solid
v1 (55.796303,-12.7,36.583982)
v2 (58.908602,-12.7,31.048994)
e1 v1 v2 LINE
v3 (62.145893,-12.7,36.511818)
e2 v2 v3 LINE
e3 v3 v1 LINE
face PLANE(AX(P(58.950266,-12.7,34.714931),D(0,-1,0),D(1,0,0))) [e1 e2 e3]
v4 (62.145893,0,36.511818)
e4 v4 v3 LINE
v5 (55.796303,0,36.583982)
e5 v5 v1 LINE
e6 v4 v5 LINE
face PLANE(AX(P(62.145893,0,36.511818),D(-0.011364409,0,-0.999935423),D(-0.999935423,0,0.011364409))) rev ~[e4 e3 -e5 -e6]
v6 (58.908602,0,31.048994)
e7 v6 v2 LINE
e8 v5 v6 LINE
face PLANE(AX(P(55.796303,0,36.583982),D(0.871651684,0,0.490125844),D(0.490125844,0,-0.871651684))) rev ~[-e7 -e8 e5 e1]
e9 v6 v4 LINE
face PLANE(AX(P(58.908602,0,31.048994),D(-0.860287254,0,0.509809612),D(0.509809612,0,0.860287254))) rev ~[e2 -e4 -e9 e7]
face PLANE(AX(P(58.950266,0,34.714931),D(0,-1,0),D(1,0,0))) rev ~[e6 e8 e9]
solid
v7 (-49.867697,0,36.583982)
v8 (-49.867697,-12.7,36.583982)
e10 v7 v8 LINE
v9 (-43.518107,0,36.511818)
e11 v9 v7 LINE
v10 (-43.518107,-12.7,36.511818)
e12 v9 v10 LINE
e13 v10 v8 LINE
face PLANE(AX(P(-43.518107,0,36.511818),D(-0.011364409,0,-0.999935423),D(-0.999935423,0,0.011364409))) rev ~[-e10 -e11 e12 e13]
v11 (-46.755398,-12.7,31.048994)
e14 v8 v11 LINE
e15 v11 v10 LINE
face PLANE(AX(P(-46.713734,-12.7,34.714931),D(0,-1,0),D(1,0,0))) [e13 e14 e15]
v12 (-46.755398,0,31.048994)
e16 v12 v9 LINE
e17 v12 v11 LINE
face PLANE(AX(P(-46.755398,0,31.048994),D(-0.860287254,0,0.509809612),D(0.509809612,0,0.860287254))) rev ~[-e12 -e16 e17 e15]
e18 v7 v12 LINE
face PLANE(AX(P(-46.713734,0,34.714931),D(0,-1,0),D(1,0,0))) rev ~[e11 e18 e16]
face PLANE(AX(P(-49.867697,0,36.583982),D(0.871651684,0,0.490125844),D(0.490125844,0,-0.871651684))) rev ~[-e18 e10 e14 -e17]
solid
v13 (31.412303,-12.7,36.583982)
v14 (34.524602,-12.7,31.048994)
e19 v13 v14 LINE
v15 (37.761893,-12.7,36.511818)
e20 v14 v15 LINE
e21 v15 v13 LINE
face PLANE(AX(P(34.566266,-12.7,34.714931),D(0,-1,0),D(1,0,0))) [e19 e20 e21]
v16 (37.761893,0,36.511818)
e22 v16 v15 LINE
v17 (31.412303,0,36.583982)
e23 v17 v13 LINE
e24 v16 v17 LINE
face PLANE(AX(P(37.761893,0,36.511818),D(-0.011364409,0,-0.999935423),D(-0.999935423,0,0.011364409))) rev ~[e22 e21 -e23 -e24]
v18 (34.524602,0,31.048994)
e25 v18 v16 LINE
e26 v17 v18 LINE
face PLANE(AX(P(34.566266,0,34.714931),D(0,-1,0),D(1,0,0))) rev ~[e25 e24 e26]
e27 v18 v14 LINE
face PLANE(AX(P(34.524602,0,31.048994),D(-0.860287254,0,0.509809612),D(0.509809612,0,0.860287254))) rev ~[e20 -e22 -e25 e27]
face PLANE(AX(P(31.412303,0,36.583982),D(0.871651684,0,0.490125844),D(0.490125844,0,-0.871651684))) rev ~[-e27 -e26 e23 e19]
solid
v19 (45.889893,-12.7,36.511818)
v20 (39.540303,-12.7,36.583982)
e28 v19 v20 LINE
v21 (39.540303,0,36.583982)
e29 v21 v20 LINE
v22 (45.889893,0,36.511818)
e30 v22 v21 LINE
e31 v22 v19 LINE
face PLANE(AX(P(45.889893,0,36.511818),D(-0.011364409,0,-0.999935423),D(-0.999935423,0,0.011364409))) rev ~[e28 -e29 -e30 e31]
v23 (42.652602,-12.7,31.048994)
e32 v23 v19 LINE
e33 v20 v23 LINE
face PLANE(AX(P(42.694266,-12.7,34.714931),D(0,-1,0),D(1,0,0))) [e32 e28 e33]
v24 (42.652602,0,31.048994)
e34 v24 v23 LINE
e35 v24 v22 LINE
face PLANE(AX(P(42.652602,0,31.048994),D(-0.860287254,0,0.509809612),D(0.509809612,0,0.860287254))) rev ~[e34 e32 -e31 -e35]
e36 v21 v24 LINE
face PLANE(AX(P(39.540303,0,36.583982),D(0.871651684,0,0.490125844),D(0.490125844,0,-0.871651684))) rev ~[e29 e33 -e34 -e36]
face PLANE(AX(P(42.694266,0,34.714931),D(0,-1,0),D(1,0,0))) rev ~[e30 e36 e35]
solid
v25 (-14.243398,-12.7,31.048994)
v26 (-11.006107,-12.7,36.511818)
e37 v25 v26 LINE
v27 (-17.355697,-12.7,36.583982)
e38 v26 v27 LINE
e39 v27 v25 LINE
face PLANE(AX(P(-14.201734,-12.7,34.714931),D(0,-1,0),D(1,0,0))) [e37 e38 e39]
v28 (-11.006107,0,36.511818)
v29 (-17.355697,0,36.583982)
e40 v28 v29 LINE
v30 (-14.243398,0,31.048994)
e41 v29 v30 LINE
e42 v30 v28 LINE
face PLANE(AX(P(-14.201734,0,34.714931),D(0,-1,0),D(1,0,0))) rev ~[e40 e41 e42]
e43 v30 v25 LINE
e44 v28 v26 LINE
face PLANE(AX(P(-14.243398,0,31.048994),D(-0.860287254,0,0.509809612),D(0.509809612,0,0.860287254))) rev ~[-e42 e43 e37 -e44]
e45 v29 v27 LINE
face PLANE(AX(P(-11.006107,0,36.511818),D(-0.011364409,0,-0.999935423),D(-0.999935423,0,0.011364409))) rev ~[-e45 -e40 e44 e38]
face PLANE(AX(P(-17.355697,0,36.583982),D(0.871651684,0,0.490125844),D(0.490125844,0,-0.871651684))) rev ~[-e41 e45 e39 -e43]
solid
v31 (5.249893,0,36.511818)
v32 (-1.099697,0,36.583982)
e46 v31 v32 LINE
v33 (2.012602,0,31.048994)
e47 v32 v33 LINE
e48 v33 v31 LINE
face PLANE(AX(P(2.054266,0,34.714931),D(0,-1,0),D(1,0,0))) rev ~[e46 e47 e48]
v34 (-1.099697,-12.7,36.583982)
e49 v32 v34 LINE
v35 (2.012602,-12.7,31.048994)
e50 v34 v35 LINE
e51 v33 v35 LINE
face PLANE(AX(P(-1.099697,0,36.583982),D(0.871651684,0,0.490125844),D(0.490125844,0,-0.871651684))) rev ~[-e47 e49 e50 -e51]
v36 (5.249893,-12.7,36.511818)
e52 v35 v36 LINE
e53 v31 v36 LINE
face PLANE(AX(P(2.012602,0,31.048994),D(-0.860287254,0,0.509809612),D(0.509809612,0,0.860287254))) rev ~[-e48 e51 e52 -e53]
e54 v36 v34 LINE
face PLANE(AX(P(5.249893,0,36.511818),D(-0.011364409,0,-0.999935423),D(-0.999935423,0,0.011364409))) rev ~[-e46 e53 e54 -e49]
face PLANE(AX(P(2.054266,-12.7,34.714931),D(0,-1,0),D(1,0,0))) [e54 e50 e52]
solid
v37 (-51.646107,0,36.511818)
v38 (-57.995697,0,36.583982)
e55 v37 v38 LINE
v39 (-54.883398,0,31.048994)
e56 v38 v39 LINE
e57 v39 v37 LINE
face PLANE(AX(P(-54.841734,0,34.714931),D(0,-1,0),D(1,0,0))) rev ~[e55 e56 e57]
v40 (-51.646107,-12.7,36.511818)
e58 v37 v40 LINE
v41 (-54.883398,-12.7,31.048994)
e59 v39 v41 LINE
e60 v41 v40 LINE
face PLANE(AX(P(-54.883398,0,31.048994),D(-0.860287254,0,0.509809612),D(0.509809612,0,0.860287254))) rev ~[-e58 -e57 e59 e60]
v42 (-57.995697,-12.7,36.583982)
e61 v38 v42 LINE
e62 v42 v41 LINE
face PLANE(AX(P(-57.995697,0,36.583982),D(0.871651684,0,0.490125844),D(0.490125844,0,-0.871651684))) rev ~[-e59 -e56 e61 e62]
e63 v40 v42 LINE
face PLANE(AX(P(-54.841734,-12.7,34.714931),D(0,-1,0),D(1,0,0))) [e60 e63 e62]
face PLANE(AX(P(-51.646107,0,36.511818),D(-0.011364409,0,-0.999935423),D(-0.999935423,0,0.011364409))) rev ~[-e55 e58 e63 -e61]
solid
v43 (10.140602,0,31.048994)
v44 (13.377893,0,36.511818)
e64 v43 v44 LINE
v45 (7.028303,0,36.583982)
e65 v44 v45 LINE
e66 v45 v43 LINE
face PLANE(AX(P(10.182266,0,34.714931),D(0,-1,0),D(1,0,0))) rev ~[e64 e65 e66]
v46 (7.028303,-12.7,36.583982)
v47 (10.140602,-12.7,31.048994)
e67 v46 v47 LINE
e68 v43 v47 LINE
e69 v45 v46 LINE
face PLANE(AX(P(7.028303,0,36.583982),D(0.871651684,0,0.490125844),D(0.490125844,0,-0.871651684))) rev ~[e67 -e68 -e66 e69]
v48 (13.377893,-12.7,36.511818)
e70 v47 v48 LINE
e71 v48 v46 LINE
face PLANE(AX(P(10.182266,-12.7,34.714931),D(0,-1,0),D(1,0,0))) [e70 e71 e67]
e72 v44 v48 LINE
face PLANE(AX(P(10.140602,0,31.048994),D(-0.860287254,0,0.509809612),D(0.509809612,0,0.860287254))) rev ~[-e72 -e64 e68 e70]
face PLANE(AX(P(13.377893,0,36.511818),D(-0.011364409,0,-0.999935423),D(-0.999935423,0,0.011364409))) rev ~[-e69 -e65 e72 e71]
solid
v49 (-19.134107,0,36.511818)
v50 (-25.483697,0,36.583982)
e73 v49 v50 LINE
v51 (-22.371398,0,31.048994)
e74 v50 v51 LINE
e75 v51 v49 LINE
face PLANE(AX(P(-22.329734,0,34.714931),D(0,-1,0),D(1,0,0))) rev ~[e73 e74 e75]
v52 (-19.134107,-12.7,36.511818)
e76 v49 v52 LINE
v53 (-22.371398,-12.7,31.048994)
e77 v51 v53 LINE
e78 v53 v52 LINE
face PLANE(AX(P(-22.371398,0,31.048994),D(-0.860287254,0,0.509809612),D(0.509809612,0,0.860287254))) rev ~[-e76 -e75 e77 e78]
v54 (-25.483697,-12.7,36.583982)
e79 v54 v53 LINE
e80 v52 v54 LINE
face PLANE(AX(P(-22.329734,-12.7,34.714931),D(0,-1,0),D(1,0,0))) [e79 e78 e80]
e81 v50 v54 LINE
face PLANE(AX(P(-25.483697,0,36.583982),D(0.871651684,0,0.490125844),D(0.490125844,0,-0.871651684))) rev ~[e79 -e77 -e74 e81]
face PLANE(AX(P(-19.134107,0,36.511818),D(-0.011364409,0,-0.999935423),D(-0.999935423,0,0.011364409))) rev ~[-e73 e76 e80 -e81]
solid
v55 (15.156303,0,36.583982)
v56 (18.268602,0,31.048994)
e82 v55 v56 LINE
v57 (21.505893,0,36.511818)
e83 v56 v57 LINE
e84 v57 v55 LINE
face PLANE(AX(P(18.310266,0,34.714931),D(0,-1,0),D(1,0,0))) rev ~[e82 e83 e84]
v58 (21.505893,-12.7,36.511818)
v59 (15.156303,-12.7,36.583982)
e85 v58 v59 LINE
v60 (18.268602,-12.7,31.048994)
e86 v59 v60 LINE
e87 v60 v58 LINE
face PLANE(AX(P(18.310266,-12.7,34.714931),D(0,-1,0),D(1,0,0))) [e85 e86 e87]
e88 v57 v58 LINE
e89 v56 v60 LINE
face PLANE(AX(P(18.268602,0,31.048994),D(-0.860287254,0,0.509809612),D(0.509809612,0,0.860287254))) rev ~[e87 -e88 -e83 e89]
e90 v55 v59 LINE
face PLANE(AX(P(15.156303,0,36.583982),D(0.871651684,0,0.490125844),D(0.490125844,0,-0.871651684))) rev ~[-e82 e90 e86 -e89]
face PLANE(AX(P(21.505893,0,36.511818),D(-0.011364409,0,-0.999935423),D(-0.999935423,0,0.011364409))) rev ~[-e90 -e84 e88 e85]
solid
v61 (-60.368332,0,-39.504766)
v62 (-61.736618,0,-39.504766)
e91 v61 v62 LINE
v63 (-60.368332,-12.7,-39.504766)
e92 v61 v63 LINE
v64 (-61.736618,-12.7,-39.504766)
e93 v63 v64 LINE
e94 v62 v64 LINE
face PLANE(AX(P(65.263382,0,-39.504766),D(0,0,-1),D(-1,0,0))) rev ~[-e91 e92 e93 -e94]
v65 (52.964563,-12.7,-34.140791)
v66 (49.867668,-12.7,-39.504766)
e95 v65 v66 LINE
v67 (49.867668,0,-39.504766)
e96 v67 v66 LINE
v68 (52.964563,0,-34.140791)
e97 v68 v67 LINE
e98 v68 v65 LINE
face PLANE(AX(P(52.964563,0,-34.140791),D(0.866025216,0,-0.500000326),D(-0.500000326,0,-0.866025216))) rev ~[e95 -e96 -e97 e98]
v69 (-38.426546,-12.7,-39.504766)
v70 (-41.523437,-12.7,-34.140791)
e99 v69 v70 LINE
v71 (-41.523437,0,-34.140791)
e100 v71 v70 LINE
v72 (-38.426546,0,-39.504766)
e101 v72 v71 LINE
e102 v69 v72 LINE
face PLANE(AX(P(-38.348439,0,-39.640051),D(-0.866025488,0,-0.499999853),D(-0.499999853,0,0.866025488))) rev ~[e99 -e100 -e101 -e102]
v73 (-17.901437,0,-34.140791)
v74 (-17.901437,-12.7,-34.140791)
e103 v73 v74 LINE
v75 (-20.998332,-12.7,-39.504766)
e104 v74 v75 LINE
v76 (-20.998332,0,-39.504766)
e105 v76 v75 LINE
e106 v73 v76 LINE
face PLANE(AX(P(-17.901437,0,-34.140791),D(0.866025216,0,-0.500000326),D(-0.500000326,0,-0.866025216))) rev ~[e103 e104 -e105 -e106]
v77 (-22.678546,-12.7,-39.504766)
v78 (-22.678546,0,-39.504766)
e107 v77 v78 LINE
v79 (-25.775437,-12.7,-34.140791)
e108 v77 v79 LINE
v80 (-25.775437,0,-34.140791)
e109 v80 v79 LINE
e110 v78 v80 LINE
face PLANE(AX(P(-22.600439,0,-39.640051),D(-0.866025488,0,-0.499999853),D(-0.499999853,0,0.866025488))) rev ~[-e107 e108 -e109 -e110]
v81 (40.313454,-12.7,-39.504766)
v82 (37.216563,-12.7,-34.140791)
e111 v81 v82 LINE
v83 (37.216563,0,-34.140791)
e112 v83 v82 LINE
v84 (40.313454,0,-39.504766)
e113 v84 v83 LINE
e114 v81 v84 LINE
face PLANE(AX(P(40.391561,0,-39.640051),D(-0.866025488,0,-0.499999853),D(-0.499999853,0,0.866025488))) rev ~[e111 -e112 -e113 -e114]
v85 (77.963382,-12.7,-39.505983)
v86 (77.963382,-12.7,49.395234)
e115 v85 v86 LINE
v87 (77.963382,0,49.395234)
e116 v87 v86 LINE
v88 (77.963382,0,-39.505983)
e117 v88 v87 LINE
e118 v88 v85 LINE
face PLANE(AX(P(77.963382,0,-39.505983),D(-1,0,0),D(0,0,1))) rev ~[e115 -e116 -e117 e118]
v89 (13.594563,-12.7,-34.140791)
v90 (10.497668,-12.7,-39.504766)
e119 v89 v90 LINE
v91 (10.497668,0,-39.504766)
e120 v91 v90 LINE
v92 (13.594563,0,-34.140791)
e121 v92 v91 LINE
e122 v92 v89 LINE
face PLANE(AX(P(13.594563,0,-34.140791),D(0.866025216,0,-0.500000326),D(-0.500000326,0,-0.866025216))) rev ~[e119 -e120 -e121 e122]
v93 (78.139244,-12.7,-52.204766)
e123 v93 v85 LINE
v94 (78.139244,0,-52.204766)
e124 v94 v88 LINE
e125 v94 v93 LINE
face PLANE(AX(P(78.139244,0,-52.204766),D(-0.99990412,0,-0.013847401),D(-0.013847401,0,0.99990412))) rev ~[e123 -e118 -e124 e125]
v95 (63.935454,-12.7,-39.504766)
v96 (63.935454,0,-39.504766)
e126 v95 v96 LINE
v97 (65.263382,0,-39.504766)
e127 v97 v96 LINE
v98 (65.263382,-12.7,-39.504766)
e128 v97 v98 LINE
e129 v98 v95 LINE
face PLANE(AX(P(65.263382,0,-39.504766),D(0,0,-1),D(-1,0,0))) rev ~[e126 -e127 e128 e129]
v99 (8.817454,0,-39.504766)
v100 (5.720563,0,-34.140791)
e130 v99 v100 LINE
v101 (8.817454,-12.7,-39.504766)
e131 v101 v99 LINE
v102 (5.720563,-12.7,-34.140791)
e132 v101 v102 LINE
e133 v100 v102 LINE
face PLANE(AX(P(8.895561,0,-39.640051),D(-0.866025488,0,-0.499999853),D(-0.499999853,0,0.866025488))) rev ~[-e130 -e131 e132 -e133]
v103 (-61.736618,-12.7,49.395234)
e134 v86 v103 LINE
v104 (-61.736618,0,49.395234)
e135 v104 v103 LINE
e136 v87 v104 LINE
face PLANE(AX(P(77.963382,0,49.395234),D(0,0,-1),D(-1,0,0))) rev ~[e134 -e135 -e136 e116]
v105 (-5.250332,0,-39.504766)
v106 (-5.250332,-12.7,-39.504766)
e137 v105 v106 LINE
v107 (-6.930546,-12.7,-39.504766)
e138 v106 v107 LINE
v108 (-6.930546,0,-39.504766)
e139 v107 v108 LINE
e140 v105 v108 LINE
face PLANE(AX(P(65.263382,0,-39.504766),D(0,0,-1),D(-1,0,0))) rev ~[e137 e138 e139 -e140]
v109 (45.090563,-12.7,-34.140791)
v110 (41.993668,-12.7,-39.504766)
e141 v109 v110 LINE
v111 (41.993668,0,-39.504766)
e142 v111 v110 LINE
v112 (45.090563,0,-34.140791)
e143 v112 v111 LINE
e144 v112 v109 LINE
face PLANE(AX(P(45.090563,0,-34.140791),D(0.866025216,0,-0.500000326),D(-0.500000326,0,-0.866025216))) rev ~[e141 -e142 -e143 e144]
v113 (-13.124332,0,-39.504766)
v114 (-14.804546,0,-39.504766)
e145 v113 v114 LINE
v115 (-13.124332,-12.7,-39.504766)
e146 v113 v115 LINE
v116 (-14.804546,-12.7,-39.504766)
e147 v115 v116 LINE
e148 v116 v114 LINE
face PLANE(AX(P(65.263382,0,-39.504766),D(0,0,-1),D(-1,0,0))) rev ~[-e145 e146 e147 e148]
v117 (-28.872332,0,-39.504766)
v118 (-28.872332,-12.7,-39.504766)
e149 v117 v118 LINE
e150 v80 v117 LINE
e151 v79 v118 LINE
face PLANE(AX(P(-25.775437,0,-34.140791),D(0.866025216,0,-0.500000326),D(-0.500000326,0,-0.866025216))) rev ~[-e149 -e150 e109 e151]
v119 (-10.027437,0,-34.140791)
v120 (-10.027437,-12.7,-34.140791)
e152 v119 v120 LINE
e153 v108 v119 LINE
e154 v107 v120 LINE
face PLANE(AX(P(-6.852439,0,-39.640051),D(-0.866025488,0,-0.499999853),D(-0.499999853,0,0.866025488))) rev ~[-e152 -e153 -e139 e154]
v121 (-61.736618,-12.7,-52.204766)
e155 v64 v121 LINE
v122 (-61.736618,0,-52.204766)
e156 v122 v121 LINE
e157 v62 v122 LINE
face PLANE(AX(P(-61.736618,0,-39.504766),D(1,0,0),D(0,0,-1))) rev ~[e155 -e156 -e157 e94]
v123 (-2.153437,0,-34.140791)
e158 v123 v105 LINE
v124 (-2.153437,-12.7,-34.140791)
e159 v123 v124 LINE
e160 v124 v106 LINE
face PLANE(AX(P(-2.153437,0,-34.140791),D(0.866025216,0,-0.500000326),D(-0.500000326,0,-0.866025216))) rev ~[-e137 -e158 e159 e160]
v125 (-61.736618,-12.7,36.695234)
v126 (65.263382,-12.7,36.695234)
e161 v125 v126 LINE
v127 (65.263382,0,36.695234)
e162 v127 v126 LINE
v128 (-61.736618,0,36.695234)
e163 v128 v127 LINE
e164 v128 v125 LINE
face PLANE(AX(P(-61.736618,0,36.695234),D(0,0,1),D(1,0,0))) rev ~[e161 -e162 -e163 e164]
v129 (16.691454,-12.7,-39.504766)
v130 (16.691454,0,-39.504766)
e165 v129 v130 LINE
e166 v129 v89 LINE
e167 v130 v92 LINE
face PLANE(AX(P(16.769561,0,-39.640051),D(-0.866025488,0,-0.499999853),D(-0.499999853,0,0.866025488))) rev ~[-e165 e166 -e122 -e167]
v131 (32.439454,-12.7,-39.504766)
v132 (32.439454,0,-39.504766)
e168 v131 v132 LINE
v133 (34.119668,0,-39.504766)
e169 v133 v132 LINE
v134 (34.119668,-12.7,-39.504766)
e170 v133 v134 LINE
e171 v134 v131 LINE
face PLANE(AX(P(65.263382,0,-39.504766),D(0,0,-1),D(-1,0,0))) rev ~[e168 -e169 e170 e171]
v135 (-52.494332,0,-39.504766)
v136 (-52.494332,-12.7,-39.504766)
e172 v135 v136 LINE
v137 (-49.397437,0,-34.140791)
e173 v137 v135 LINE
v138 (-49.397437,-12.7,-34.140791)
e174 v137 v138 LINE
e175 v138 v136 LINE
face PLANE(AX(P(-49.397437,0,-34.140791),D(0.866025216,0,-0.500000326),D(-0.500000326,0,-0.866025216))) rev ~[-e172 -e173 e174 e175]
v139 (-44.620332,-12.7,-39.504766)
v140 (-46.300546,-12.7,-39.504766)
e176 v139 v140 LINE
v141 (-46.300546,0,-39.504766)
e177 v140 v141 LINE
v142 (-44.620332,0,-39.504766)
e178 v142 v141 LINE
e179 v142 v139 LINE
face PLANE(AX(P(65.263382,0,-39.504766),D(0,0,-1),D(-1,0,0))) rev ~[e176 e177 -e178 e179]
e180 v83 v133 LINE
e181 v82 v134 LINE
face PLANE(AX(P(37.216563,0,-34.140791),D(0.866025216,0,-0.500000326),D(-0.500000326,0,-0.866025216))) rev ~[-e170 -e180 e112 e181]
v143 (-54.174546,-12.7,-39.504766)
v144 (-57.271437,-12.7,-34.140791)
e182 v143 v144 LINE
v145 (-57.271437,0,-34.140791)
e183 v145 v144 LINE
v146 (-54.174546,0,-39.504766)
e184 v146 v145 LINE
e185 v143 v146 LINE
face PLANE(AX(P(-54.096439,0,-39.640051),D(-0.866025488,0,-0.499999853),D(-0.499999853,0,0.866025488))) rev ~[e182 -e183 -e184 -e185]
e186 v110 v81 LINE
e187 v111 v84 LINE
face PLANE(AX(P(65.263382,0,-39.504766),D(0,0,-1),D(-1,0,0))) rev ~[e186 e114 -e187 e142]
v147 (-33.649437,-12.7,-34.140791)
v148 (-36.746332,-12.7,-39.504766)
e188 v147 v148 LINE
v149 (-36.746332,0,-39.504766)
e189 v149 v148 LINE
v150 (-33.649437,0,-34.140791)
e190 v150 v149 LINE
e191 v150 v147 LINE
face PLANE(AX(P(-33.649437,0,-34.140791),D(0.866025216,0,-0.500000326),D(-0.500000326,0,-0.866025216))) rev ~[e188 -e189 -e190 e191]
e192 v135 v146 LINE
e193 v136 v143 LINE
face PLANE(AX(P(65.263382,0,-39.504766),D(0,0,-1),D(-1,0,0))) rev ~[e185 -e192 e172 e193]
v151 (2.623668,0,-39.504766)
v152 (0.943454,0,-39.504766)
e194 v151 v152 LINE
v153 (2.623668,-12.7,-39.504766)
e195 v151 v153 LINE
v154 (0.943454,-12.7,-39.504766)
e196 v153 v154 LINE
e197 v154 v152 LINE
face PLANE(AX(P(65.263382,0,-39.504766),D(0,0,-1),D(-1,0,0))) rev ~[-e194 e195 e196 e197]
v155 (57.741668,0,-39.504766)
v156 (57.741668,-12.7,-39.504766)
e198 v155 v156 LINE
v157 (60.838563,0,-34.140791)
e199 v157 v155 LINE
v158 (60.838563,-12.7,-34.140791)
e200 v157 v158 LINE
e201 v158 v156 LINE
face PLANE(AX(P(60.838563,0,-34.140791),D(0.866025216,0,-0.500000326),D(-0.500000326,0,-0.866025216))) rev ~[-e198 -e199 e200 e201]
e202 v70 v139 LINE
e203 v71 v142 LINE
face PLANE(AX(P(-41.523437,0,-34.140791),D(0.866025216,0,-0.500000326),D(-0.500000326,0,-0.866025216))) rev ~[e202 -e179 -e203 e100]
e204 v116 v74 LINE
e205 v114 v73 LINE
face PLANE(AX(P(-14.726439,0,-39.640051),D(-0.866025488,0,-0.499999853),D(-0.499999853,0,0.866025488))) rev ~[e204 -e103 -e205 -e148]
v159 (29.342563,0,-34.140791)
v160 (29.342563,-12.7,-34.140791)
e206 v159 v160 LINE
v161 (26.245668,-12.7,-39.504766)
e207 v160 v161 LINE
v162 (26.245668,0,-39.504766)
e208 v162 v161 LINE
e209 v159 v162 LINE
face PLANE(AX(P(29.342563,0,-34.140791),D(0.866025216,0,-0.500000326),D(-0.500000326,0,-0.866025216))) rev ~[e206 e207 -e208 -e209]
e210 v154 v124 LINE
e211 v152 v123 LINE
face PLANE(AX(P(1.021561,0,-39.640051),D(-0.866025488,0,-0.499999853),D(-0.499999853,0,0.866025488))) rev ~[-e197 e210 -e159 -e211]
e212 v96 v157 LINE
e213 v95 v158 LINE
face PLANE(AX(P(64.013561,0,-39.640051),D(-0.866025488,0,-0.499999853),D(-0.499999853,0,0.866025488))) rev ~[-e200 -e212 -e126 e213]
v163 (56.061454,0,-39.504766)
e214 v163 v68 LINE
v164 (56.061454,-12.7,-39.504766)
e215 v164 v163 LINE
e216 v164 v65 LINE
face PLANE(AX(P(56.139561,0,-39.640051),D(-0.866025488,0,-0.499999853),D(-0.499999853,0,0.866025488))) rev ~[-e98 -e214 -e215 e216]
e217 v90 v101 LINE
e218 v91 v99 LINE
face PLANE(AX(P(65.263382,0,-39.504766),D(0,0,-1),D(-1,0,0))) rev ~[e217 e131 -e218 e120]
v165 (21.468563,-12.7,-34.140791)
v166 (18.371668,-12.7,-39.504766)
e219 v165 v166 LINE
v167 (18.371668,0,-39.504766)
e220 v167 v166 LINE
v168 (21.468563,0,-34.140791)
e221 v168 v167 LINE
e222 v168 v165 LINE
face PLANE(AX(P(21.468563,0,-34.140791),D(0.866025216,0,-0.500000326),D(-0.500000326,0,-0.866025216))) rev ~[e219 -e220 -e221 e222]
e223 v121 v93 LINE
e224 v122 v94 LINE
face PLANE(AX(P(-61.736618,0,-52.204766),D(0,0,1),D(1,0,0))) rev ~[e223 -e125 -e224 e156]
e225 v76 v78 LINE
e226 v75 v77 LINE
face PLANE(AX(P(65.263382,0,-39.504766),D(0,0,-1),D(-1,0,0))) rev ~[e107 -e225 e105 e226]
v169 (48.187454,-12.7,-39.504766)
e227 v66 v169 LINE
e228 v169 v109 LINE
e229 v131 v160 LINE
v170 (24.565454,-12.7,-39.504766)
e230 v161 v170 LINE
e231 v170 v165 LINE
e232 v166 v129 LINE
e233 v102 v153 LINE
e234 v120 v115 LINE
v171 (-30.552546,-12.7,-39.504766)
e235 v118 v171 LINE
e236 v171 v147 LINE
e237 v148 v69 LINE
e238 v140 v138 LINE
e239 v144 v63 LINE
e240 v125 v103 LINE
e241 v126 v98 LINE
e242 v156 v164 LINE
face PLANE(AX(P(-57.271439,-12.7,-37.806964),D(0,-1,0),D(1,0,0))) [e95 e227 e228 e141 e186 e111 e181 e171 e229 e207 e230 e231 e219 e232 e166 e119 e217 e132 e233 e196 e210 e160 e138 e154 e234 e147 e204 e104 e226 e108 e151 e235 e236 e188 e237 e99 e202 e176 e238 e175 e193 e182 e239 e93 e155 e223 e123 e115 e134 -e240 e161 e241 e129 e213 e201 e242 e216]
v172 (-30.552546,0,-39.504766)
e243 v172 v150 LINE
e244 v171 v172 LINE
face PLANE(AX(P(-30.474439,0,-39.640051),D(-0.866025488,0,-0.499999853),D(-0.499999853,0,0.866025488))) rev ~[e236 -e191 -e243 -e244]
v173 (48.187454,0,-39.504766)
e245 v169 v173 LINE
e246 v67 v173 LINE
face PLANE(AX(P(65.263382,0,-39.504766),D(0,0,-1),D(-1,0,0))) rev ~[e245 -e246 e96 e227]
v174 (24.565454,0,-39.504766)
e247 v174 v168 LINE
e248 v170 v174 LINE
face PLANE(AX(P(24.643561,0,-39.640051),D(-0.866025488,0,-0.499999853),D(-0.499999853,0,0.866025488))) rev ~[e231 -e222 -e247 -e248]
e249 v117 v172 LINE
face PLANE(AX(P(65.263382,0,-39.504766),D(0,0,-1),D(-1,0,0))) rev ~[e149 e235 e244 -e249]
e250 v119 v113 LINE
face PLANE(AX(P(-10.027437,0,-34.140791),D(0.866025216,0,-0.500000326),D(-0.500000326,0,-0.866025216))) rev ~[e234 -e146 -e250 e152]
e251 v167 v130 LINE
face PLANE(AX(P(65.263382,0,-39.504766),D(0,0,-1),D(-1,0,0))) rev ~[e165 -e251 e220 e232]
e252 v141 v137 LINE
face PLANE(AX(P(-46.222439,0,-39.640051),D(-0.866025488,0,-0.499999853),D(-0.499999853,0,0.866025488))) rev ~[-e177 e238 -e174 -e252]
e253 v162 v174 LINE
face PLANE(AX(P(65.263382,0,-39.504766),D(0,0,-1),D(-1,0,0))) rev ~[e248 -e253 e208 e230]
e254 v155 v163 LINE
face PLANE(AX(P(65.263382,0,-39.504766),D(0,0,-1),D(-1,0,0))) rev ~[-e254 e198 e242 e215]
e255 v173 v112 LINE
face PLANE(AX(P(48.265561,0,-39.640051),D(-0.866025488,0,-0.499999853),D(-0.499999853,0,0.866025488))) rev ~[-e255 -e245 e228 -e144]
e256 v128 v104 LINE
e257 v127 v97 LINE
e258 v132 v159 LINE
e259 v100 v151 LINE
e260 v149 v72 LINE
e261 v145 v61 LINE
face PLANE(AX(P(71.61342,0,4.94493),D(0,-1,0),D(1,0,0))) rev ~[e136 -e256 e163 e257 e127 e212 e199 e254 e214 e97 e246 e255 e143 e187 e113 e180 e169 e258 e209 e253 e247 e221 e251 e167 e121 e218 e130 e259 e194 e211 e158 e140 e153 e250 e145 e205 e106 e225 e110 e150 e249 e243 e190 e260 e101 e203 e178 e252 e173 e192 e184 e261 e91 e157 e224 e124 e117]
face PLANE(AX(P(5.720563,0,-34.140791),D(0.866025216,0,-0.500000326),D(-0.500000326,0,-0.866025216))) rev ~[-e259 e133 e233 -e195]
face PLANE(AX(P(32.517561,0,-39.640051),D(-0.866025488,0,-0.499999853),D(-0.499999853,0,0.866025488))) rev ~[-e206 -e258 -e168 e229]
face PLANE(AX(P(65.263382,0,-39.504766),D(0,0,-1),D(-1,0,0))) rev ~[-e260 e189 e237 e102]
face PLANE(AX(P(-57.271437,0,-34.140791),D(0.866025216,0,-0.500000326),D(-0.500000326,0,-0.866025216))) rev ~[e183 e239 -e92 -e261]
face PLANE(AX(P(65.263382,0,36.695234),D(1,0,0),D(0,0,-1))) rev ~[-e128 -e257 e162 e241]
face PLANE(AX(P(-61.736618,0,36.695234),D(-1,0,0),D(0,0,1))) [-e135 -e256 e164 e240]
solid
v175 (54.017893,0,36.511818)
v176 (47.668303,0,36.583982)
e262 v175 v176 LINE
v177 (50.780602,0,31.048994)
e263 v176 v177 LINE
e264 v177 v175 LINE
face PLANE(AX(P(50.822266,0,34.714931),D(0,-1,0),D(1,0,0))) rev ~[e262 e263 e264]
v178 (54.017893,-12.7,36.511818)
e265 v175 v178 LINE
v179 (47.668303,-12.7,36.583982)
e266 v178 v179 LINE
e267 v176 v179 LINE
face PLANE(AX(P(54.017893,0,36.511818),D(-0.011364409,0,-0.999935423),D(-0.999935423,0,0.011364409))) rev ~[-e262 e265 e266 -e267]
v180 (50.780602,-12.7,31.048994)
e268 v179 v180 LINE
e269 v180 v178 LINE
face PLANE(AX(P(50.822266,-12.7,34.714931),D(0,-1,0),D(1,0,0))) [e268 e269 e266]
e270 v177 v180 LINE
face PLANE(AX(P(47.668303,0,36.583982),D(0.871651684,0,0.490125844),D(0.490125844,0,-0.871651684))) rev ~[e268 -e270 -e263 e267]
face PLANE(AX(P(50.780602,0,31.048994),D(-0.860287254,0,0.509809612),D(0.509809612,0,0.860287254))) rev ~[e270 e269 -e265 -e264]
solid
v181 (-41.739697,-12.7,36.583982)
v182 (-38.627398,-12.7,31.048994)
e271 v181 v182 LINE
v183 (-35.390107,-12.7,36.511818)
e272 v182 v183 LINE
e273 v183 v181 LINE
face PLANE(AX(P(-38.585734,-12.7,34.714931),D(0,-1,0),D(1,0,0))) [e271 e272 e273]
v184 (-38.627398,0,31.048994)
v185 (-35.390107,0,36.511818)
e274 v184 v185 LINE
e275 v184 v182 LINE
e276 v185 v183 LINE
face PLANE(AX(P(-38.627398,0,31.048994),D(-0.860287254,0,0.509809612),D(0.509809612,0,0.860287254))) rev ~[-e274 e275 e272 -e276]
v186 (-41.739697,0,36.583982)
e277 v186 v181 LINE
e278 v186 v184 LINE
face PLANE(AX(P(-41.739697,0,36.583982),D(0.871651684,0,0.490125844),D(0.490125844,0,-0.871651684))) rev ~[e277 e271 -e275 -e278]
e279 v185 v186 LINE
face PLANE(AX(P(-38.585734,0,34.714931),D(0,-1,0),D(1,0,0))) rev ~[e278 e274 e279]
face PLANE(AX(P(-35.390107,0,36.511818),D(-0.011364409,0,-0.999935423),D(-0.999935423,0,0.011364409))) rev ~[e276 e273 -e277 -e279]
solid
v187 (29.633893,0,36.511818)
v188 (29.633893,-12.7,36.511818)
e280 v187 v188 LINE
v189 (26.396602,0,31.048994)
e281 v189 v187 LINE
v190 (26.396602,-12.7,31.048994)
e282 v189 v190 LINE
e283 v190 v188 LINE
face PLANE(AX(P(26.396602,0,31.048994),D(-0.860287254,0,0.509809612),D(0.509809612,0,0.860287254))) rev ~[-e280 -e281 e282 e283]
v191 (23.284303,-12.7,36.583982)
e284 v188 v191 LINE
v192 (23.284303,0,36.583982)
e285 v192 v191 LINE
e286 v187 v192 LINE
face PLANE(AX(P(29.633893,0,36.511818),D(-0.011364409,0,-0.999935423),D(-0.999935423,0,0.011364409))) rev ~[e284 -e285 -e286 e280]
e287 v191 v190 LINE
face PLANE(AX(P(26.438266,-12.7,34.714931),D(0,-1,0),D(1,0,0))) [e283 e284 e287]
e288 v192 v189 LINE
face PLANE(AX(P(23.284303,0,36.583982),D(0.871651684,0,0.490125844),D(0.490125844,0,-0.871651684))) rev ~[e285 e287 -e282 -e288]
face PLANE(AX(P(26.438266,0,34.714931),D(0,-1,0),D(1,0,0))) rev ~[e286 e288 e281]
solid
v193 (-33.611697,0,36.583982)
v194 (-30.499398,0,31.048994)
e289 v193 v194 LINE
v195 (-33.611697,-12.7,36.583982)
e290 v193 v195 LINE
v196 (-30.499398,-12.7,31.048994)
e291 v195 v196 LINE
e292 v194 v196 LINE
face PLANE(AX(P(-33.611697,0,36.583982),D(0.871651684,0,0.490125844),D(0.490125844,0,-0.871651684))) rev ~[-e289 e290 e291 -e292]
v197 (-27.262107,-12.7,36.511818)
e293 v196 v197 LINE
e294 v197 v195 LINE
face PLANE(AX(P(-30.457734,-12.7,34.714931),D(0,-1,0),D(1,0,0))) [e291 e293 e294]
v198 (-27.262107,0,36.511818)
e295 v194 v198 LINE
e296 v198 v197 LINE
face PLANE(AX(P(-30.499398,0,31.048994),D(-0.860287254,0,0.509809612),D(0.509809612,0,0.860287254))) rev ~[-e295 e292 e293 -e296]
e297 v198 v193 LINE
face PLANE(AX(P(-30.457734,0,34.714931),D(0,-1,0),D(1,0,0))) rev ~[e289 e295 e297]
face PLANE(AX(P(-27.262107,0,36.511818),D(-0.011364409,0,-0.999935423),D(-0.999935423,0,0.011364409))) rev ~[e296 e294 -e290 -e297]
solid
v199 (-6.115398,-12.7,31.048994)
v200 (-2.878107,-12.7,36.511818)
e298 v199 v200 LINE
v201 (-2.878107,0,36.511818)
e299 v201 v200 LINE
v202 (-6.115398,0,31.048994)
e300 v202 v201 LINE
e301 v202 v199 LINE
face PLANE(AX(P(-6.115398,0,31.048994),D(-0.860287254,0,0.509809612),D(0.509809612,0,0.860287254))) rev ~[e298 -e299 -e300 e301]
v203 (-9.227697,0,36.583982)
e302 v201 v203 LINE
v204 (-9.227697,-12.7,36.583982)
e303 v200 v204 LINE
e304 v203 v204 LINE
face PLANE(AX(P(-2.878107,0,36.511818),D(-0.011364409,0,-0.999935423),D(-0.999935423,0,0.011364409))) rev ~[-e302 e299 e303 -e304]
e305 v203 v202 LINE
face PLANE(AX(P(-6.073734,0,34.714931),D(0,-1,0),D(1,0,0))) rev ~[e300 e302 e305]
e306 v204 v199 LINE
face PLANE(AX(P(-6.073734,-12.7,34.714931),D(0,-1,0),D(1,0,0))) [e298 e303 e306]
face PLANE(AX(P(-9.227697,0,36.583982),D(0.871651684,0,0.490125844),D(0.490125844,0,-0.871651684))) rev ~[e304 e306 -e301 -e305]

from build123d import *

# Parameters (mm, degrees)
F0_W     = 127
F0_H     = 12.7
F1_DEPTH = 12.7
F3_DEPTH = 12.7
F5_DEPTH = 12.7


with BuildPart() as f1:
    # F0 (on Front) → F1 (new body)
    with BuildSketch(Plane.XZ):
        Polygon((65.263382, 49.395234), (65.263382, 36.695234), (65.263382, -39.504766), (77.963382, -39.505983), (77.963382, 49.395234), align=None)
        with Locations((1.763382, 43.045234)):
            Rectangle(F0_W, F0_H)
        Polygon((77.963382, -39.505983), (65.263382, -39.504766), (-61.736618, -39.504766), (-61.736618, -52.204766), (78.139244, -52.204766), align=None)
    extrude(amount=F1_DEPTH)

    # F4 (on Front) → F5 (join)
    with BuildSketch(Plane.XZ):
        Polygon((-54.096439, -39.640051), (-57.271437, -34.140791), (-60.446439, -39.640051), align=None)
        Polygon((-46.222439, -39.640051), (-49.397437, -34.140791), (-52.572439, -39.640051), align=None)
        Polygon((-38.348439, -39.640051), (-41.523437, -34.140791), (-44.698439, -39.640051), align=None)
        Polygon((-30.474439, -39.640051), (-33.649437, -34.140791), (-36.824439, -39.640051), align=None)
        Polygon((-22.600439, -39.640051), (-25.775437, -34.140791), (-28.950439, -39.640051), align=None)
        Polygon((-14.726439, -39.640051), (-17.901437, -34.140791), (-21.076439, -39.640051), align=None)
        Polygon((-6.852439, -39.640051), (-10.027437, -34.140791), (-13.202439, -39.640051), align=None)
        Polygon((1.021561, -39.640051), (-2.153437, -34.140791), (-5.328439, -39.640051), align=None)
        Polygon((8.895561, -39.640051), (5.720563, -34.140791), (2.545561, -39.640051), align=None)
        Polygon((16.769561, -39.640051), (13.594563, -34.140791), (10.419561, -39.640051), align=None)
        Polygon((24.643561, -39.640051), (21.468563, -34.140791), (18.293561, -39.640051), align=None)
        Polygon((40.391561, -39.640051), (37.216563, -34.140791), (34.041561, -39.640051), align=None)
        Polygon((48.265561, -39.640051), (45.090563, -34.140791), (41.915561, -39.640051), align=None)
        Polygon((56.139561, -39.640051), (52.964563, -34.140791), (49.789561, -39.640051), align=None)
        Polygon((57.663561, -39.640051), (64.013561, -39.640051), (60.838563, -34.140791), align=None)
        Polygon((32.517561, -39.640051), (29.342563, -34.140791), (26.167561, -39.640051), align=None)
    extrude(amount=F5_DEPTH)


with BuildPart() as f3:
    # F2 (on Front) → F3 (new body)
    with BuildSketch(Plane.XZ):
        Polygon((-57.995697, 36.583982), (-54.883398, 31.048994), (-51.646107, 36.511818), align=None)
        Polygon((-49.867697, 36.583982), (-46.755398, 31.048994), (-43.518107, 36.511818), align=None)
        Polygon((-41.739697, 36.583982), (-38.627398, 31.048994), (-35.390107, 36.511818), align=None)
        Polygon((-33.611697, 36.583982), (-30.499398, 31.048994), (-27.262107, 36.511818), align=None)
        Polygon((-25.483697, 36.583982), (-22.371398, 31.048994), (-19.134107, 36.511818), align=None)
        Polygon((-17.355697, 36.583982), (-14.243398, 31.048994), (-11.006107, 36.511818), align=None)
        Polygon((-9.227697, 36.583982), (-6.115398, 31.048994), (-2.878107, 36.511818), align=None)
        Polygon((-1.099697, 36.583982), (2.012602, 31.048994), (5.249893, 36.511818), align=None)
        Polygon((7.028303, 36.583982), (10.140602, 31.048994), (13.377893, 36.511818), align=None)
        Polygon((15.156303, 36.583982), (18.268602, 31.048994), (21.505893, 36.511818), align=None)
        Polygon((23.284303, 36.583982), (26.396602, 31.048994), (29.633893, 36.511818), align=None)
        Polygon((31.412303, 36.583982), (34.524602, 31.048994), (37.761893, 36.511818), align=None)
        Polygon((39.540303, 36.583982), (42.652602, 31.048994), (45.889893, 36.511818), align=None)
        Polygon((47.668303, 36.583982), (50.780602, 31.048994), (54.017893, 36.511818), align=None)
        Polygon((58.908602, 31.048994), (62.145893, 36.511818), (55.796303, 36.583982), align=None)
    extrude(amount=F3_DEPTH)


solid = Compound([f1.part, f3.part])
